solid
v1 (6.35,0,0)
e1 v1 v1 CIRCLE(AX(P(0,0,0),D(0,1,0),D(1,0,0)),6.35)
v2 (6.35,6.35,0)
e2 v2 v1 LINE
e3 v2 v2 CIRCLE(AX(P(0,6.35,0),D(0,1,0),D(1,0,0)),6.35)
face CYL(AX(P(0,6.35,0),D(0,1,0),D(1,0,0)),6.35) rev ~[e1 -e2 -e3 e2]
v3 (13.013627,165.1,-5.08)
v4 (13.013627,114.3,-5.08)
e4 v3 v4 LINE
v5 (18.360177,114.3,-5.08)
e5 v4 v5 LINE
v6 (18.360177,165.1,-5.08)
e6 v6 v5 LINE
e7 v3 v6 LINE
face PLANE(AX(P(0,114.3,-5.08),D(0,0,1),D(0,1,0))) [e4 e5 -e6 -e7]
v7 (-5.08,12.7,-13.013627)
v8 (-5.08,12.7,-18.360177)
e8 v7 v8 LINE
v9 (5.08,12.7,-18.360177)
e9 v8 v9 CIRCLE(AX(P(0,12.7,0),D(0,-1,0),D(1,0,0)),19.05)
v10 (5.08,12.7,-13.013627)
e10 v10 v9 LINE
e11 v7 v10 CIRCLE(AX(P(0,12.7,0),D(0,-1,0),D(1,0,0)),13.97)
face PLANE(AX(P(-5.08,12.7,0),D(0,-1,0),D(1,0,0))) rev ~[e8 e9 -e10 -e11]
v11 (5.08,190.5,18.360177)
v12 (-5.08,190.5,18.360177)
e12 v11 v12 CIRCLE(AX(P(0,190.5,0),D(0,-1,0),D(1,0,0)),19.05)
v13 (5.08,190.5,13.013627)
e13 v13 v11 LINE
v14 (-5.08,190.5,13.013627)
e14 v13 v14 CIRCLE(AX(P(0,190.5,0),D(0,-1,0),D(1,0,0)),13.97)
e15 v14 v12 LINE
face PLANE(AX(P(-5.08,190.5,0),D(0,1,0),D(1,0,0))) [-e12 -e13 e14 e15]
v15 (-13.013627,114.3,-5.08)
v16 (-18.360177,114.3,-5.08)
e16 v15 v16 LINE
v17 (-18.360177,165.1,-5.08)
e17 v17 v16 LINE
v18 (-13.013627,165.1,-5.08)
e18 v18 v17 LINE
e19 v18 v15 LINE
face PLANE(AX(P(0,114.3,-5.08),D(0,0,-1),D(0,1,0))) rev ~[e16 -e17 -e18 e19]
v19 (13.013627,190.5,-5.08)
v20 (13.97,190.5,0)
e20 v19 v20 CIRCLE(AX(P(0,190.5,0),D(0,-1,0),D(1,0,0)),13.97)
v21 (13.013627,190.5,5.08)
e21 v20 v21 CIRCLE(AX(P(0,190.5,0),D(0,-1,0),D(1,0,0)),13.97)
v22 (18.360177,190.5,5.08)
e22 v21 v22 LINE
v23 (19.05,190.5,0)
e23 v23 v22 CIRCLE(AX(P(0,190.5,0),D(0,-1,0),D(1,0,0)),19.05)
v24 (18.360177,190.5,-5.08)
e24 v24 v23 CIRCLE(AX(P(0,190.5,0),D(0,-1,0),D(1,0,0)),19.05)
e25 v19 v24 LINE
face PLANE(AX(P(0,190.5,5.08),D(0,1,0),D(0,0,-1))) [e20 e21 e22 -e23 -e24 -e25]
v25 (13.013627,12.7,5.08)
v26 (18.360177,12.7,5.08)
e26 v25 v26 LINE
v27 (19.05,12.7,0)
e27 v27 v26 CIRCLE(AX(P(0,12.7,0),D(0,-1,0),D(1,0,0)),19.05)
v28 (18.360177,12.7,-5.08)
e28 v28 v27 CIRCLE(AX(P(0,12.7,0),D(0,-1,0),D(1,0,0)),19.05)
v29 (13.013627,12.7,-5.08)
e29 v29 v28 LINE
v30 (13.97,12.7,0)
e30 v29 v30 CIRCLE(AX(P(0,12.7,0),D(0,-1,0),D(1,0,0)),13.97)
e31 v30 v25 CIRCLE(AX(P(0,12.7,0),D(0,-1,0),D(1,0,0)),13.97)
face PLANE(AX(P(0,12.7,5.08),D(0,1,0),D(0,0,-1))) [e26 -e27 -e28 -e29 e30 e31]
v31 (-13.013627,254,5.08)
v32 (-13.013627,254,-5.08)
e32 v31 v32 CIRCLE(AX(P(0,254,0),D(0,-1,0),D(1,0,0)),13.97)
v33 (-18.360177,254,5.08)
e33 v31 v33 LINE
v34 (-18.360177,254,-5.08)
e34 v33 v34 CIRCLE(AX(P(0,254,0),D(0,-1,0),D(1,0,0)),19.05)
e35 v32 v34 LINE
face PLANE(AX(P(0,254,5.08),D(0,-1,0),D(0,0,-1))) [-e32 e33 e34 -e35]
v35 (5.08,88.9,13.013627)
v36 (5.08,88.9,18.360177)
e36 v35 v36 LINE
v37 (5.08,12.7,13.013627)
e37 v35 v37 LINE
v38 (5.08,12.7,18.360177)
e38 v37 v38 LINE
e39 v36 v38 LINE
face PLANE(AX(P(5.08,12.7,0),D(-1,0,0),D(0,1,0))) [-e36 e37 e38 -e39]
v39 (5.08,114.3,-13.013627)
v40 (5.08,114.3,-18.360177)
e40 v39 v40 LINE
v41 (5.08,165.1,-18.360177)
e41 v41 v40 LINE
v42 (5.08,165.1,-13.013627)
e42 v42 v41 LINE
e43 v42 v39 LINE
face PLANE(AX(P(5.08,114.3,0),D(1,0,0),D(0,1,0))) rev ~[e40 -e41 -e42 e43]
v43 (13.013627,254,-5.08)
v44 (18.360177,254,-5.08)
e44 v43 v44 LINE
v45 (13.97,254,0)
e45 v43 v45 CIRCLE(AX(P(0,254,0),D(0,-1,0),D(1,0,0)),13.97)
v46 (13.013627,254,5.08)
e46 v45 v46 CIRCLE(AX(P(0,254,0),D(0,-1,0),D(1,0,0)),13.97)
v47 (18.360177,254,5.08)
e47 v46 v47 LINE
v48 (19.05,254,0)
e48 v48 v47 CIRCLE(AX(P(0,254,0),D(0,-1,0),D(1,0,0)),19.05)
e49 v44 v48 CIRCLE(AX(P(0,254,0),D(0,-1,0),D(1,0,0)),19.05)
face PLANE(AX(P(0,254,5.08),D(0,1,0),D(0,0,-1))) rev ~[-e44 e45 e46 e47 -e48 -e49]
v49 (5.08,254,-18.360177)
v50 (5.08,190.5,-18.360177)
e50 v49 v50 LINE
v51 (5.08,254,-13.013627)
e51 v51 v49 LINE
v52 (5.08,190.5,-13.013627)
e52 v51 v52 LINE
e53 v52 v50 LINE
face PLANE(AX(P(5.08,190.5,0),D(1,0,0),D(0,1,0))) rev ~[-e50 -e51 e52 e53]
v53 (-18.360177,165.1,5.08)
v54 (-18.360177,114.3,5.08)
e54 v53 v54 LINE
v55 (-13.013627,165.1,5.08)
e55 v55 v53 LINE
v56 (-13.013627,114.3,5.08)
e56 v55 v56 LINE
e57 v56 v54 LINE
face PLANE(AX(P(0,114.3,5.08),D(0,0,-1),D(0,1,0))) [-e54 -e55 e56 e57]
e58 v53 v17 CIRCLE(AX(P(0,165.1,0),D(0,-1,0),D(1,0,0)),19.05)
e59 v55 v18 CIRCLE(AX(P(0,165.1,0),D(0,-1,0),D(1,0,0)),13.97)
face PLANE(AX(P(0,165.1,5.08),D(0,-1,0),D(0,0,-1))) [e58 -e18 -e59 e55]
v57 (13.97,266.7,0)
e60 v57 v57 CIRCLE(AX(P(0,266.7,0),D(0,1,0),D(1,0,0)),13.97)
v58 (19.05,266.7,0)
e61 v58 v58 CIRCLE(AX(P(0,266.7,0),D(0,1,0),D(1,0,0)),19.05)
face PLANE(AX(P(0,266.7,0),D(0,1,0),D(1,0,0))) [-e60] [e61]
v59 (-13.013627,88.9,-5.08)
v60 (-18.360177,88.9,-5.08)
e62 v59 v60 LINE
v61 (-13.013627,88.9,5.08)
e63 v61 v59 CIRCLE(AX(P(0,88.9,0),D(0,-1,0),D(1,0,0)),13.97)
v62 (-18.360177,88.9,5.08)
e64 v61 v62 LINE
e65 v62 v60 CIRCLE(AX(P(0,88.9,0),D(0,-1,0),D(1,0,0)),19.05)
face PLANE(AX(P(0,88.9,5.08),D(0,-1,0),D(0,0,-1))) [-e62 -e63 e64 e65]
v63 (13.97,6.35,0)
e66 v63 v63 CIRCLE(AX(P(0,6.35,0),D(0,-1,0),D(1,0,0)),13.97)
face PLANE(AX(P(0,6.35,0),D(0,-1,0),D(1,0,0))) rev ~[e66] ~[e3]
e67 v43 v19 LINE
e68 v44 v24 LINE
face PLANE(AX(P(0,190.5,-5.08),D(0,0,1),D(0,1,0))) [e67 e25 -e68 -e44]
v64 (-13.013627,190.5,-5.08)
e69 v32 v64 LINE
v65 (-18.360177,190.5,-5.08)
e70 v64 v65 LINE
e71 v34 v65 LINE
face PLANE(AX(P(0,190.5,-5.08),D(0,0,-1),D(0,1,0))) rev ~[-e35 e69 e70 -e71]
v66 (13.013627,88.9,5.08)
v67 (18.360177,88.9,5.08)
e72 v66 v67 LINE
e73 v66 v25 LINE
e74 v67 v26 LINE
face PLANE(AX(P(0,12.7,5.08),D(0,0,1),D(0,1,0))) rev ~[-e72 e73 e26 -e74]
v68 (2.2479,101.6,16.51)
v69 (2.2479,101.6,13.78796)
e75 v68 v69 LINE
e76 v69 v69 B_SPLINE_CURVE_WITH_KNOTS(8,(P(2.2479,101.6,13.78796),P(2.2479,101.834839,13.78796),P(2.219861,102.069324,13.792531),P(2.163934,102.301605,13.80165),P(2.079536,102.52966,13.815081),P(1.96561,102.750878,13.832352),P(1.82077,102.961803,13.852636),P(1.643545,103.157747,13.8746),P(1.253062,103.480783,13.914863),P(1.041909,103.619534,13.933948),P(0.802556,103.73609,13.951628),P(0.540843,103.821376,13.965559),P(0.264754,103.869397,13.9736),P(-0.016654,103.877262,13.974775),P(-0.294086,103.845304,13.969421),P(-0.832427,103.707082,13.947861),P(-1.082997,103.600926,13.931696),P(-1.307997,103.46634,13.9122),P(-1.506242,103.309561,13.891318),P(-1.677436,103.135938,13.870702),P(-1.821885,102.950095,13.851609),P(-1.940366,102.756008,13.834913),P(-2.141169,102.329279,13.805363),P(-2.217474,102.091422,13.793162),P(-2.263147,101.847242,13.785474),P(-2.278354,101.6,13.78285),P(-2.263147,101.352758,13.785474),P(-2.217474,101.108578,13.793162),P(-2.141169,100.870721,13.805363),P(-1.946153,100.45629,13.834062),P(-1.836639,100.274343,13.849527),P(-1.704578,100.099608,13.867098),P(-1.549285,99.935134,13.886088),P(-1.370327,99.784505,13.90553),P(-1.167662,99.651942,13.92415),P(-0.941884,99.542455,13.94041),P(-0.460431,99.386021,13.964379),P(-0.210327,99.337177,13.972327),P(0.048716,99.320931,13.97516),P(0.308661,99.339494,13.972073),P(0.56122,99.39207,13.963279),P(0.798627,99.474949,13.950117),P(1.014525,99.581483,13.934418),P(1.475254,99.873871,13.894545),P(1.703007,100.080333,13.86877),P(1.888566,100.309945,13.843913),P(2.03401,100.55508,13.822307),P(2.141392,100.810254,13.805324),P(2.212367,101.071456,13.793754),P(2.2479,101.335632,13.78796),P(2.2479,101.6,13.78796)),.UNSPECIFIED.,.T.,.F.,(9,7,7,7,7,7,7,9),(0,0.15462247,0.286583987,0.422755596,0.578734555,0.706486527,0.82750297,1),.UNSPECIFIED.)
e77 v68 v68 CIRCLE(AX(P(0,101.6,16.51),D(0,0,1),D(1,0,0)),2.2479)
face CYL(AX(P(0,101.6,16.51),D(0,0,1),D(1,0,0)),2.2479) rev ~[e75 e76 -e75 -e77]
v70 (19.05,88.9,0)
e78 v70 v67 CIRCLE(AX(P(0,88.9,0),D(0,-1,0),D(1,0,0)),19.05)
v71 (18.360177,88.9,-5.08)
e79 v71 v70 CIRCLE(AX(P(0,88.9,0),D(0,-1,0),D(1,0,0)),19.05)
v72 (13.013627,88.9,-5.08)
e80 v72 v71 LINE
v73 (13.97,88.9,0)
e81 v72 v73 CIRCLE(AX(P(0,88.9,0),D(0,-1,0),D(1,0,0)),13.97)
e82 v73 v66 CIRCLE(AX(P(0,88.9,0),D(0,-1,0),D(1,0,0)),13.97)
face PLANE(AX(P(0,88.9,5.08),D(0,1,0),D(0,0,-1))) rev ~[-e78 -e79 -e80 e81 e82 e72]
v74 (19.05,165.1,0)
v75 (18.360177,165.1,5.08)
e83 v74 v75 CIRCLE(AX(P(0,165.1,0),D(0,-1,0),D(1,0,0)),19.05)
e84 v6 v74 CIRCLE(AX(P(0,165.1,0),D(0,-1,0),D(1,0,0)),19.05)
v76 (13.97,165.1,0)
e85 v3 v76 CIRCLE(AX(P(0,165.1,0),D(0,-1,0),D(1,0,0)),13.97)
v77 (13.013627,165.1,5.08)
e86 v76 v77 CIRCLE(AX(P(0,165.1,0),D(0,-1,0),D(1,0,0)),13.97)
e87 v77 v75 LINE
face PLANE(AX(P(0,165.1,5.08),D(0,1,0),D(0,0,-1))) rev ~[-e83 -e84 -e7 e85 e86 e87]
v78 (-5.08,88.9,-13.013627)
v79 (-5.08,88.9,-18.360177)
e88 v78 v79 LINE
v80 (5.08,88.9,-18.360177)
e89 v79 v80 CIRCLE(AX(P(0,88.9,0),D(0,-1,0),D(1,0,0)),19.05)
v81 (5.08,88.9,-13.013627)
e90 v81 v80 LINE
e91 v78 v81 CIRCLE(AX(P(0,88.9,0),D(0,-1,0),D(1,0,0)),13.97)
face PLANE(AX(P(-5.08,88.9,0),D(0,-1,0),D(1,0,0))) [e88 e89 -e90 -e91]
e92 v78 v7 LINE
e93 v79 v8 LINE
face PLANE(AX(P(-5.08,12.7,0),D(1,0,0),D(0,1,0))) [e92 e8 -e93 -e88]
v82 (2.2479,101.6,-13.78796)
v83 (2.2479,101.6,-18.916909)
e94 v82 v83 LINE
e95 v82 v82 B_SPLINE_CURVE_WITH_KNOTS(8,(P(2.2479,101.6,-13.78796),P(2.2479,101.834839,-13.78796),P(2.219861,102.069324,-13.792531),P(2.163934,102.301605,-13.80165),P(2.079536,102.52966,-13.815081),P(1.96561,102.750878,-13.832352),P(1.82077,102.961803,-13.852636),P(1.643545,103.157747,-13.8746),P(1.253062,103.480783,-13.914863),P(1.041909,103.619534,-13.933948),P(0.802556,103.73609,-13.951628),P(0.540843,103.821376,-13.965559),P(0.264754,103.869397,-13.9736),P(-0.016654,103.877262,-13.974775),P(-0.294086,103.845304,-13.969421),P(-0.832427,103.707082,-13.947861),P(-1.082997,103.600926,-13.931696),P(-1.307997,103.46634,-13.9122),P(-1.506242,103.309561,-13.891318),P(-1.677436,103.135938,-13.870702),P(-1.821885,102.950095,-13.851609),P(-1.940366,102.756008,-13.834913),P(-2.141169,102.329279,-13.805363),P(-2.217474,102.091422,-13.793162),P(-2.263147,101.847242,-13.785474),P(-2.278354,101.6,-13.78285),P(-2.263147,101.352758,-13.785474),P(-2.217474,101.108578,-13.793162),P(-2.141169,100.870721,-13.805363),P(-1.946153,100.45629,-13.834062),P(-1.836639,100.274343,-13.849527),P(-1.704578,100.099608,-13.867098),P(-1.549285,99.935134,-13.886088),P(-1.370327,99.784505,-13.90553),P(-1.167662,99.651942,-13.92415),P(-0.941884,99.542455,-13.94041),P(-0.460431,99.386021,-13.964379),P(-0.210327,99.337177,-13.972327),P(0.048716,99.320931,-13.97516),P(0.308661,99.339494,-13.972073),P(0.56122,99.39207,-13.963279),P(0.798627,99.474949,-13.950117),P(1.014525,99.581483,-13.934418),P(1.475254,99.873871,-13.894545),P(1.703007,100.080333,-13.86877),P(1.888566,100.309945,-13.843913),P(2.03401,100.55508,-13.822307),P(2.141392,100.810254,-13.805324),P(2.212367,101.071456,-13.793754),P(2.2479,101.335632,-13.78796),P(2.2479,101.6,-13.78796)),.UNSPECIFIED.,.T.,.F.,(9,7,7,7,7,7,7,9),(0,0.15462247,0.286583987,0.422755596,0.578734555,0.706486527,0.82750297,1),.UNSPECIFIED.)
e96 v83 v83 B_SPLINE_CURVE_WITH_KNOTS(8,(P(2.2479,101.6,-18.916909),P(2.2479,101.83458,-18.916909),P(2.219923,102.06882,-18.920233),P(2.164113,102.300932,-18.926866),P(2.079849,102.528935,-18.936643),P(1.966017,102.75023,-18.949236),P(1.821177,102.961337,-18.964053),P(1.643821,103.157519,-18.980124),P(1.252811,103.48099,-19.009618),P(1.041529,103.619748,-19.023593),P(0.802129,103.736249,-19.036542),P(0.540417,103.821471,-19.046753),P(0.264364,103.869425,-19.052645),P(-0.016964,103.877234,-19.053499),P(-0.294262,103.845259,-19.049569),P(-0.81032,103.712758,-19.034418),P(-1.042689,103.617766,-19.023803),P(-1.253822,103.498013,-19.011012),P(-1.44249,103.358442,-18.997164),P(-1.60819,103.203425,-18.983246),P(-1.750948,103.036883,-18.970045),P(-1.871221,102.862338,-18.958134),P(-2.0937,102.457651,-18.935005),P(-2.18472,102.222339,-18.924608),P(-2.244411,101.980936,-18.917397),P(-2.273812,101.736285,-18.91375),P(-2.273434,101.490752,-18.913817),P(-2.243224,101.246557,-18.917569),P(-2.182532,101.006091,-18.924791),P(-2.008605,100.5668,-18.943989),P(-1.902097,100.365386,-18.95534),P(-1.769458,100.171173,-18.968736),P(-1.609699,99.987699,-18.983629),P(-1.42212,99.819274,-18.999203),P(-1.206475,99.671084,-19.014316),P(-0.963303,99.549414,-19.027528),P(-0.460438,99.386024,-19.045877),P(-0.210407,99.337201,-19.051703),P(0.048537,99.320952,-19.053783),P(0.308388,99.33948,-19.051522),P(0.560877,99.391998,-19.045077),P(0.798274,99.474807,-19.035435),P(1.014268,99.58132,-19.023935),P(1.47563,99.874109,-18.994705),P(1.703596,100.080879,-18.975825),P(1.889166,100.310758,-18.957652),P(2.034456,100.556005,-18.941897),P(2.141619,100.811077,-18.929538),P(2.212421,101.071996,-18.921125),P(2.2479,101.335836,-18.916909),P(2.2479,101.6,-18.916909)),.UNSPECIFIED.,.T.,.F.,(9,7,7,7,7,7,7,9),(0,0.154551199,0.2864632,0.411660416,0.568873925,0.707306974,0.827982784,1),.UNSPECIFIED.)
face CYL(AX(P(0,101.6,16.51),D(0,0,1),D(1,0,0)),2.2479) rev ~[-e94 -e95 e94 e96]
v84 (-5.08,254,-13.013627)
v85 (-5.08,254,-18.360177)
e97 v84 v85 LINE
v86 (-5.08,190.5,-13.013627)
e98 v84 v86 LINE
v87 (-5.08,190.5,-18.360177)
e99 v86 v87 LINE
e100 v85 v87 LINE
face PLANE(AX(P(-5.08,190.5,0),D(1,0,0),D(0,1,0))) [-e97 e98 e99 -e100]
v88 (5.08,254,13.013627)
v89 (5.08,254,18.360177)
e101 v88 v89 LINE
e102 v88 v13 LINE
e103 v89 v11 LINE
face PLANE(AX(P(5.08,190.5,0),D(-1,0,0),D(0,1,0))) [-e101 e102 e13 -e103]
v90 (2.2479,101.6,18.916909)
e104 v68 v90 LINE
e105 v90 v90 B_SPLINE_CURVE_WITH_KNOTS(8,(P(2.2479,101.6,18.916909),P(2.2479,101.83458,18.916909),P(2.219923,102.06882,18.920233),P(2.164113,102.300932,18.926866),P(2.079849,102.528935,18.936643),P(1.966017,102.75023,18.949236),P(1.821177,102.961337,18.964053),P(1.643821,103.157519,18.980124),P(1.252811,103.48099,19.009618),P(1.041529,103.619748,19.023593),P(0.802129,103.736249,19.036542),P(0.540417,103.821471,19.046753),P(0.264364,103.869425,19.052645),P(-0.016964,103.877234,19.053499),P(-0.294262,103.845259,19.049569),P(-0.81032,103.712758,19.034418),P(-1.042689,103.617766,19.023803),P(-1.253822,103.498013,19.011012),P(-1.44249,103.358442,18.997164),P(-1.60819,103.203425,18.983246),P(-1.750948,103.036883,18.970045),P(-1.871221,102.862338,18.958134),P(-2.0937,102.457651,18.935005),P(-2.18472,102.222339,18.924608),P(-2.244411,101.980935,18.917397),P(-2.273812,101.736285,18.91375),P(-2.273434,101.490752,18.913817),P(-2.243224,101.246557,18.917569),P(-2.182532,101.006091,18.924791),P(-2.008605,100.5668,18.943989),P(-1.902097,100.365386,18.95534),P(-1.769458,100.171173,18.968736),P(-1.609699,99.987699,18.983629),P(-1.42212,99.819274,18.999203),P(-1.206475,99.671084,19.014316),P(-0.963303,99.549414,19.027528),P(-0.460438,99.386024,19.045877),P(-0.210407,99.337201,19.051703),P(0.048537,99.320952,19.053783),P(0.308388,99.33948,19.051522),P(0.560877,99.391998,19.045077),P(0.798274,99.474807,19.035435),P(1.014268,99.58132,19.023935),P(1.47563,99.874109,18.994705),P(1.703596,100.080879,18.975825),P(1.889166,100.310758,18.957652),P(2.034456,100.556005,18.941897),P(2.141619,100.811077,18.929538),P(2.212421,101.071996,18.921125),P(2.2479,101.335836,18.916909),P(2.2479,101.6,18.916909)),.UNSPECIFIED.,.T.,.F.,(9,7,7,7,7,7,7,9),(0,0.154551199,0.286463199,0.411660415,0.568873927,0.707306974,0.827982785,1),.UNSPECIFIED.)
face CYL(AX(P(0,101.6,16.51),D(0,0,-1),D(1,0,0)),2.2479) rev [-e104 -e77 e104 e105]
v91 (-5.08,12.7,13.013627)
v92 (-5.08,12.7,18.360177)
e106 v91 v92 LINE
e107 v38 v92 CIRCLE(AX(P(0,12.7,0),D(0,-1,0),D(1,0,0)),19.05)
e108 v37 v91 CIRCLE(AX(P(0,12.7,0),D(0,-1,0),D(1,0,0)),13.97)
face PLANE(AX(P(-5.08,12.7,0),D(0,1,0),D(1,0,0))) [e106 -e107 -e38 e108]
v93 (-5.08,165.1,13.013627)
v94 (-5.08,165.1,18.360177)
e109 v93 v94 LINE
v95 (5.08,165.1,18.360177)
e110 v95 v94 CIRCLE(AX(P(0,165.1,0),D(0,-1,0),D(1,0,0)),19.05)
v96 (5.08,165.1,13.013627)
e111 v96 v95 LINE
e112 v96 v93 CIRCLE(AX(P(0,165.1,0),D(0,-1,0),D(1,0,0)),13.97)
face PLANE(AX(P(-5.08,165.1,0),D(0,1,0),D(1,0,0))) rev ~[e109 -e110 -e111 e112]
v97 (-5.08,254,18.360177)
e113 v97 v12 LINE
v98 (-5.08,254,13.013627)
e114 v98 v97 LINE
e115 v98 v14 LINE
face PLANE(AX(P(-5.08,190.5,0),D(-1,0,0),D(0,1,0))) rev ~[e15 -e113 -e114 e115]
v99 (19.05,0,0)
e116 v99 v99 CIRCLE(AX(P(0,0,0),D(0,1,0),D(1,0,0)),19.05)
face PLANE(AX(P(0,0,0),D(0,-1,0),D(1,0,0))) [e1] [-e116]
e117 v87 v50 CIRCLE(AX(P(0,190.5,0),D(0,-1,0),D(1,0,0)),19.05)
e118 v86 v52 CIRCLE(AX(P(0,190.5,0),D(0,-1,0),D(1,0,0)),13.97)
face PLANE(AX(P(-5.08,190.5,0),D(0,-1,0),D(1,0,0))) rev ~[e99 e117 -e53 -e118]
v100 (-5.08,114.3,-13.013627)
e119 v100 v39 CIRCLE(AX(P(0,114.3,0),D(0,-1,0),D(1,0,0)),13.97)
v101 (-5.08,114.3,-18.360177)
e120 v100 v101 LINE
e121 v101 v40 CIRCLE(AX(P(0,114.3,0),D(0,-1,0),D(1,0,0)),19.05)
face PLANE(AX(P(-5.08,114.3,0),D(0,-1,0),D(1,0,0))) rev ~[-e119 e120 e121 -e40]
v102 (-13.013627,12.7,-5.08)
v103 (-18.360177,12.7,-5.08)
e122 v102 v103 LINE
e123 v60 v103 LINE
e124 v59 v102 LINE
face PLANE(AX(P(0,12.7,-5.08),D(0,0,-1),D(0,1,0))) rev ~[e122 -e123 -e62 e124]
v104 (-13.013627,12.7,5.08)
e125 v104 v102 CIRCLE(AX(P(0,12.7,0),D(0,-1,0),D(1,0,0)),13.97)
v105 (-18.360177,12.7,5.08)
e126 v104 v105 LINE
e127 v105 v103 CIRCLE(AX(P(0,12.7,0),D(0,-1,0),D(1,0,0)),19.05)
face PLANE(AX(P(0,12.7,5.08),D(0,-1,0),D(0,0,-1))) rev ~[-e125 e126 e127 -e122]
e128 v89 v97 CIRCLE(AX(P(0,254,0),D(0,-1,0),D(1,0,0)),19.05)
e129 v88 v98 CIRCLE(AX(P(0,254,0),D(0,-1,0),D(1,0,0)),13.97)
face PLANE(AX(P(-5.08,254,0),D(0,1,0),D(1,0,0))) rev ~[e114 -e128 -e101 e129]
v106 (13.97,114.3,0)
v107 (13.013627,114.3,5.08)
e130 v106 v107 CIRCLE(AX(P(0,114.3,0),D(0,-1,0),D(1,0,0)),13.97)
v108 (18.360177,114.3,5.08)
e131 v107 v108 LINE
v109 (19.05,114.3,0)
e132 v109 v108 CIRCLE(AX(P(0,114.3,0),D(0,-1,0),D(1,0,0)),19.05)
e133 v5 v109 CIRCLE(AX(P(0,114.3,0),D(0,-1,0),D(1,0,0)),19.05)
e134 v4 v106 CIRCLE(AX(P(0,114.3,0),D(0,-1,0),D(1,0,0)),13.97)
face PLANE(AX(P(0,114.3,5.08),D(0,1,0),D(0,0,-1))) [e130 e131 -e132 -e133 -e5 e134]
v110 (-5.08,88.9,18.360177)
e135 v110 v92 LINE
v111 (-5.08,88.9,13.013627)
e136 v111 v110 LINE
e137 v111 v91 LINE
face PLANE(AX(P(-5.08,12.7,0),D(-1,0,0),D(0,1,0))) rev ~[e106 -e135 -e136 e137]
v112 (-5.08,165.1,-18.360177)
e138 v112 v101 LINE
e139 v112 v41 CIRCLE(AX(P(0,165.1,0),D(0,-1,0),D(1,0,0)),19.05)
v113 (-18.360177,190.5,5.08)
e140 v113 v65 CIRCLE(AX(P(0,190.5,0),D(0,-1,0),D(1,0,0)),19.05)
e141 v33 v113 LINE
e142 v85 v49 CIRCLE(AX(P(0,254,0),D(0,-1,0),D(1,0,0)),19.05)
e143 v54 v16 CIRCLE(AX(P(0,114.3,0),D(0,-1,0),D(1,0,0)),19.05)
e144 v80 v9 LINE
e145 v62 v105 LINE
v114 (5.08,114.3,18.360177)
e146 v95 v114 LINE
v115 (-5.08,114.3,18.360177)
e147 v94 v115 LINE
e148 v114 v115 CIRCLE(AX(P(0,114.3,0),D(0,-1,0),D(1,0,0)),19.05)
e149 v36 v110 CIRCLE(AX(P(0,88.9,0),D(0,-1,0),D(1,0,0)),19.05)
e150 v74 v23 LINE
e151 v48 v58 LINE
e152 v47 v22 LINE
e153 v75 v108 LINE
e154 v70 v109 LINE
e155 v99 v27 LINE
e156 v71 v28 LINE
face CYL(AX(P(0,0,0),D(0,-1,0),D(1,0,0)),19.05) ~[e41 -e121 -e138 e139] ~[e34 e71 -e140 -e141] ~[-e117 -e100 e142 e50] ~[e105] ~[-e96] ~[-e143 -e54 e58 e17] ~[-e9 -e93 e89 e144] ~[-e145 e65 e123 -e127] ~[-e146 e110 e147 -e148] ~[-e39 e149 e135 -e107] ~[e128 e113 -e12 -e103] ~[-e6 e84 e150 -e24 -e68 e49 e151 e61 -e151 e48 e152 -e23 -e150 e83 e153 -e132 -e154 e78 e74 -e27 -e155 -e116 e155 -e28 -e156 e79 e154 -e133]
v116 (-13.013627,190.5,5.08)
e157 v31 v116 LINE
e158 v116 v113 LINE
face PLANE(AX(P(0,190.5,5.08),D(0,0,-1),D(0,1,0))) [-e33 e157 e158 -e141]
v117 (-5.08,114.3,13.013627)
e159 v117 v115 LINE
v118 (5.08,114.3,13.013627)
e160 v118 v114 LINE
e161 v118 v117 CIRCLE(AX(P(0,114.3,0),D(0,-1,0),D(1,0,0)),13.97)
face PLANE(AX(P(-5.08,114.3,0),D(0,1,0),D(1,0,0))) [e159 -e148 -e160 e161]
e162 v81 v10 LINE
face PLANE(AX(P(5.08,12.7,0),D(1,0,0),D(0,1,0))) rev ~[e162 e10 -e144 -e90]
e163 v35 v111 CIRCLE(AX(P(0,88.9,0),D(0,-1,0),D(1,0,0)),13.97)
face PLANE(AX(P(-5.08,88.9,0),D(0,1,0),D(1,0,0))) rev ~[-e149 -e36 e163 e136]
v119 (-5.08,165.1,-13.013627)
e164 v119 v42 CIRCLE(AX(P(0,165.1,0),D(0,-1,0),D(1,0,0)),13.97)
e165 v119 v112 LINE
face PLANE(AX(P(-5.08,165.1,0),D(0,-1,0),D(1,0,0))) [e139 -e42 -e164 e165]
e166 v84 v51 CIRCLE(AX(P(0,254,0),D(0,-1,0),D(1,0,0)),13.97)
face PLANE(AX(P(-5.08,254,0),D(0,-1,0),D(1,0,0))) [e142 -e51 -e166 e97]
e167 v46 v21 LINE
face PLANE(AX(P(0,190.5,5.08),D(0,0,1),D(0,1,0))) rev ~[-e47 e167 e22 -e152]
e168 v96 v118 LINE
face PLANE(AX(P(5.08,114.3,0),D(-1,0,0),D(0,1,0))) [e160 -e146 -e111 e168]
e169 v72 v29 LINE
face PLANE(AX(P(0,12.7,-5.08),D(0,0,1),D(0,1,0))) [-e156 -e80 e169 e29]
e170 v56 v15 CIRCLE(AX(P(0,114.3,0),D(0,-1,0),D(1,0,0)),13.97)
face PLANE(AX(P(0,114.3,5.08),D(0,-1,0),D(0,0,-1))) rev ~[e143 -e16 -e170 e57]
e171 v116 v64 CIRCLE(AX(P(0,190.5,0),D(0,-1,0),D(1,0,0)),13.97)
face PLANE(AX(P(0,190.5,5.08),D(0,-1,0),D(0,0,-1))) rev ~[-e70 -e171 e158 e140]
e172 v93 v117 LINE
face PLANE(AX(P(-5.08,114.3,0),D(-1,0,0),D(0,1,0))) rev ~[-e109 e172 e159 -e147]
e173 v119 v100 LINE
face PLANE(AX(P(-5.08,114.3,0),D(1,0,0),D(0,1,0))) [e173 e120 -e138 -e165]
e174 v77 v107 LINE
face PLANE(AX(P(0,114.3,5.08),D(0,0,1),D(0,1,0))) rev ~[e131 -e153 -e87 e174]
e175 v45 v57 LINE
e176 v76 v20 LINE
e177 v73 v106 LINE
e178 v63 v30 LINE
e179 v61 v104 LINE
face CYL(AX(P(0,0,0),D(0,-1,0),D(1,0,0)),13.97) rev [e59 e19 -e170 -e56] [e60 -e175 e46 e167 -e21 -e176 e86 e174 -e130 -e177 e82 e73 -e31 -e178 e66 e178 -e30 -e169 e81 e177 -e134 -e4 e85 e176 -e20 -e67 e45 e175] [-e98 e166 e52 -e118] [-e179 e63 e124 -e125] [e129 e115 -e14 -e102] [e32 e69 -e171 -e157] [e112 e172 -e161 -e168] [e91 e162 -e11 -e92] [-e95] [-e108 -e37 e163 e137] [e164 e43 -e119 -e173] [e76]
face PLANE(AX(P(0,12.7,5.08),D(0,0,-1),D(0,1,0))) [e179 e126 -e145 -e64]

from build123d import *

# Parameters (mm, degrees)
SKETCH1_R               = 19.05
SKETCH1_R_2             = 13.97
BOSS_EXTRUDE1_DEPTH     = 266.7
SKETCH2_R               = 13.97
BOSS_EXTRUDE2_DEPTH     = 6.35
SKETCH3_R               = 2.2479
CUT_EXTRUDE1_DEPTH      = 3.54
CUT_EXTRUDE1_DEPTH_BACK = 36.56
SKETCH5_W               = 10.16
SKETCH5_H               = 76.2
SKETCH5_H_2             = 50.8
SKETCH5_H_3             = 63.5
CUT_EXTRUDE5_DEPTH      = 20.0500001
CUT_EXTRUDE5_DEPTH_BACK = 20.0500001
SKETCH8_W               = 10.16
SKETCH8_H               = 76.2
SKETCH8_H_2             = 50.8
SKETCH8_H_3             = 63.5
CUT_EXTRUDE6_DEPTH      = 20.050000101
CUT_EXTRUDE6_DEPTH_BACK = 20.050000101
SKETCH7_R               = 6.35
CUT_EXTRUDE4_DEPTH      = 7.3500001


with BuildPart() as part:
    # Sketch1 → Boss-Extrude1 (new body)
    with BuildSketch(Plane(origin=(0, 0, 0), x_dir=(1, 0, 0), z_dir=(0, 1, 0))):
        Circle(SKETCH1_R)
        Circle(SKETCH1_R_2, mode=Mode.SUBTRACT)
    extrude(amount=BOSS_EXTRUDE1_DEPTH)

    # Sketch2 → Boss-Extrude2 (add)
    with BuildSketch(Plane.XZ):
        Circle(SKETCH2_R)
    extrude(amount=-BOSS_EXTRUDE2_DEPTH)

    # Sketch3 → Cut-Extrude1 (cut, two sides)
    with BuildSketch(Plane.XY.offset(16.51)) as cut_extrude1_sk:
        with Locations((0, 101.6)):
            Circle(SKETCH3_R)
    extrude(amount=CUT_EXTRUDE1_DEPTH, mode=Mode.SUBTRACT)
    extrude(cut_extrude1_sk.sketch, amount=-CUT_EXTRUDE1_DEPTH_BACK, mode=Mode.SUBTRACT)

    # Sketch5 → Cut-Extrude5 (cut, two sides)
    with BuildSketch(Plane(origin=(0, 0, 0), x_dir=(0, 0, -1), z_dir=(1, 0, 0))) as cut_extrude5_sk:
        with Locations((0, 50.8)):
            Rectangle(SKETCH5_W, SKETCH5_H)
        with Locations((0, 139.7)):
            Rectangle(SKETCH5_W, SKETCH5_H_2)
        with Locations((0, 222.25)):
            Rectangle(SKETCH5_W, SKETCH5_H_3)
    extrude(amount=CUT_EXTRUDE5_DEPTH, mode=Mode.SUBTRACT)
    extrude(cut_extrude5_sk.sketch, amount=-CUT_EXTRUDE5_DEPTH_BACK, mode=Mode.SUBTRACT)

    # Sketch8 → Cut-Extrude6 (cut, two sides)
    with BuildSketch(Plane.XY) as cut_extrude6_sk:
        with Locations((0, 50.8)):
            Rectangle(SKETCH8_W, SKETCH8_H)
        with Locations((0, 139.7)):
            Rectangle(SKETCH8_W, SKETCH8_H_2)
        with Locations((0, 222.25)):
            Rectangle(SKETCH8_W, SKETCH8_H_3)
    extrude(amount=CUT_EXTRUDE6_DEPTH, mode=Mode.SUBTRACT)
    extrude(cut_extrude6_sk.sketch, amount=-CUT_EXTRUDE6_DEPTH_BACK, mode=Mode.SUBTRACT)

    # Sketch7 → Cut-Extrude4 (cut, through all)
    with BuildSketch(Plane(origin=(0, 6.35, 0), x_dir=(1, 0, 0), z_dir=(0, 1, 0))):
        Circle(SKETCH7_R)
    extrude(amount=-CUT_EXTRUDE4_DEPTH, mode=Mode.SUBTRACT)


solid = part.part
